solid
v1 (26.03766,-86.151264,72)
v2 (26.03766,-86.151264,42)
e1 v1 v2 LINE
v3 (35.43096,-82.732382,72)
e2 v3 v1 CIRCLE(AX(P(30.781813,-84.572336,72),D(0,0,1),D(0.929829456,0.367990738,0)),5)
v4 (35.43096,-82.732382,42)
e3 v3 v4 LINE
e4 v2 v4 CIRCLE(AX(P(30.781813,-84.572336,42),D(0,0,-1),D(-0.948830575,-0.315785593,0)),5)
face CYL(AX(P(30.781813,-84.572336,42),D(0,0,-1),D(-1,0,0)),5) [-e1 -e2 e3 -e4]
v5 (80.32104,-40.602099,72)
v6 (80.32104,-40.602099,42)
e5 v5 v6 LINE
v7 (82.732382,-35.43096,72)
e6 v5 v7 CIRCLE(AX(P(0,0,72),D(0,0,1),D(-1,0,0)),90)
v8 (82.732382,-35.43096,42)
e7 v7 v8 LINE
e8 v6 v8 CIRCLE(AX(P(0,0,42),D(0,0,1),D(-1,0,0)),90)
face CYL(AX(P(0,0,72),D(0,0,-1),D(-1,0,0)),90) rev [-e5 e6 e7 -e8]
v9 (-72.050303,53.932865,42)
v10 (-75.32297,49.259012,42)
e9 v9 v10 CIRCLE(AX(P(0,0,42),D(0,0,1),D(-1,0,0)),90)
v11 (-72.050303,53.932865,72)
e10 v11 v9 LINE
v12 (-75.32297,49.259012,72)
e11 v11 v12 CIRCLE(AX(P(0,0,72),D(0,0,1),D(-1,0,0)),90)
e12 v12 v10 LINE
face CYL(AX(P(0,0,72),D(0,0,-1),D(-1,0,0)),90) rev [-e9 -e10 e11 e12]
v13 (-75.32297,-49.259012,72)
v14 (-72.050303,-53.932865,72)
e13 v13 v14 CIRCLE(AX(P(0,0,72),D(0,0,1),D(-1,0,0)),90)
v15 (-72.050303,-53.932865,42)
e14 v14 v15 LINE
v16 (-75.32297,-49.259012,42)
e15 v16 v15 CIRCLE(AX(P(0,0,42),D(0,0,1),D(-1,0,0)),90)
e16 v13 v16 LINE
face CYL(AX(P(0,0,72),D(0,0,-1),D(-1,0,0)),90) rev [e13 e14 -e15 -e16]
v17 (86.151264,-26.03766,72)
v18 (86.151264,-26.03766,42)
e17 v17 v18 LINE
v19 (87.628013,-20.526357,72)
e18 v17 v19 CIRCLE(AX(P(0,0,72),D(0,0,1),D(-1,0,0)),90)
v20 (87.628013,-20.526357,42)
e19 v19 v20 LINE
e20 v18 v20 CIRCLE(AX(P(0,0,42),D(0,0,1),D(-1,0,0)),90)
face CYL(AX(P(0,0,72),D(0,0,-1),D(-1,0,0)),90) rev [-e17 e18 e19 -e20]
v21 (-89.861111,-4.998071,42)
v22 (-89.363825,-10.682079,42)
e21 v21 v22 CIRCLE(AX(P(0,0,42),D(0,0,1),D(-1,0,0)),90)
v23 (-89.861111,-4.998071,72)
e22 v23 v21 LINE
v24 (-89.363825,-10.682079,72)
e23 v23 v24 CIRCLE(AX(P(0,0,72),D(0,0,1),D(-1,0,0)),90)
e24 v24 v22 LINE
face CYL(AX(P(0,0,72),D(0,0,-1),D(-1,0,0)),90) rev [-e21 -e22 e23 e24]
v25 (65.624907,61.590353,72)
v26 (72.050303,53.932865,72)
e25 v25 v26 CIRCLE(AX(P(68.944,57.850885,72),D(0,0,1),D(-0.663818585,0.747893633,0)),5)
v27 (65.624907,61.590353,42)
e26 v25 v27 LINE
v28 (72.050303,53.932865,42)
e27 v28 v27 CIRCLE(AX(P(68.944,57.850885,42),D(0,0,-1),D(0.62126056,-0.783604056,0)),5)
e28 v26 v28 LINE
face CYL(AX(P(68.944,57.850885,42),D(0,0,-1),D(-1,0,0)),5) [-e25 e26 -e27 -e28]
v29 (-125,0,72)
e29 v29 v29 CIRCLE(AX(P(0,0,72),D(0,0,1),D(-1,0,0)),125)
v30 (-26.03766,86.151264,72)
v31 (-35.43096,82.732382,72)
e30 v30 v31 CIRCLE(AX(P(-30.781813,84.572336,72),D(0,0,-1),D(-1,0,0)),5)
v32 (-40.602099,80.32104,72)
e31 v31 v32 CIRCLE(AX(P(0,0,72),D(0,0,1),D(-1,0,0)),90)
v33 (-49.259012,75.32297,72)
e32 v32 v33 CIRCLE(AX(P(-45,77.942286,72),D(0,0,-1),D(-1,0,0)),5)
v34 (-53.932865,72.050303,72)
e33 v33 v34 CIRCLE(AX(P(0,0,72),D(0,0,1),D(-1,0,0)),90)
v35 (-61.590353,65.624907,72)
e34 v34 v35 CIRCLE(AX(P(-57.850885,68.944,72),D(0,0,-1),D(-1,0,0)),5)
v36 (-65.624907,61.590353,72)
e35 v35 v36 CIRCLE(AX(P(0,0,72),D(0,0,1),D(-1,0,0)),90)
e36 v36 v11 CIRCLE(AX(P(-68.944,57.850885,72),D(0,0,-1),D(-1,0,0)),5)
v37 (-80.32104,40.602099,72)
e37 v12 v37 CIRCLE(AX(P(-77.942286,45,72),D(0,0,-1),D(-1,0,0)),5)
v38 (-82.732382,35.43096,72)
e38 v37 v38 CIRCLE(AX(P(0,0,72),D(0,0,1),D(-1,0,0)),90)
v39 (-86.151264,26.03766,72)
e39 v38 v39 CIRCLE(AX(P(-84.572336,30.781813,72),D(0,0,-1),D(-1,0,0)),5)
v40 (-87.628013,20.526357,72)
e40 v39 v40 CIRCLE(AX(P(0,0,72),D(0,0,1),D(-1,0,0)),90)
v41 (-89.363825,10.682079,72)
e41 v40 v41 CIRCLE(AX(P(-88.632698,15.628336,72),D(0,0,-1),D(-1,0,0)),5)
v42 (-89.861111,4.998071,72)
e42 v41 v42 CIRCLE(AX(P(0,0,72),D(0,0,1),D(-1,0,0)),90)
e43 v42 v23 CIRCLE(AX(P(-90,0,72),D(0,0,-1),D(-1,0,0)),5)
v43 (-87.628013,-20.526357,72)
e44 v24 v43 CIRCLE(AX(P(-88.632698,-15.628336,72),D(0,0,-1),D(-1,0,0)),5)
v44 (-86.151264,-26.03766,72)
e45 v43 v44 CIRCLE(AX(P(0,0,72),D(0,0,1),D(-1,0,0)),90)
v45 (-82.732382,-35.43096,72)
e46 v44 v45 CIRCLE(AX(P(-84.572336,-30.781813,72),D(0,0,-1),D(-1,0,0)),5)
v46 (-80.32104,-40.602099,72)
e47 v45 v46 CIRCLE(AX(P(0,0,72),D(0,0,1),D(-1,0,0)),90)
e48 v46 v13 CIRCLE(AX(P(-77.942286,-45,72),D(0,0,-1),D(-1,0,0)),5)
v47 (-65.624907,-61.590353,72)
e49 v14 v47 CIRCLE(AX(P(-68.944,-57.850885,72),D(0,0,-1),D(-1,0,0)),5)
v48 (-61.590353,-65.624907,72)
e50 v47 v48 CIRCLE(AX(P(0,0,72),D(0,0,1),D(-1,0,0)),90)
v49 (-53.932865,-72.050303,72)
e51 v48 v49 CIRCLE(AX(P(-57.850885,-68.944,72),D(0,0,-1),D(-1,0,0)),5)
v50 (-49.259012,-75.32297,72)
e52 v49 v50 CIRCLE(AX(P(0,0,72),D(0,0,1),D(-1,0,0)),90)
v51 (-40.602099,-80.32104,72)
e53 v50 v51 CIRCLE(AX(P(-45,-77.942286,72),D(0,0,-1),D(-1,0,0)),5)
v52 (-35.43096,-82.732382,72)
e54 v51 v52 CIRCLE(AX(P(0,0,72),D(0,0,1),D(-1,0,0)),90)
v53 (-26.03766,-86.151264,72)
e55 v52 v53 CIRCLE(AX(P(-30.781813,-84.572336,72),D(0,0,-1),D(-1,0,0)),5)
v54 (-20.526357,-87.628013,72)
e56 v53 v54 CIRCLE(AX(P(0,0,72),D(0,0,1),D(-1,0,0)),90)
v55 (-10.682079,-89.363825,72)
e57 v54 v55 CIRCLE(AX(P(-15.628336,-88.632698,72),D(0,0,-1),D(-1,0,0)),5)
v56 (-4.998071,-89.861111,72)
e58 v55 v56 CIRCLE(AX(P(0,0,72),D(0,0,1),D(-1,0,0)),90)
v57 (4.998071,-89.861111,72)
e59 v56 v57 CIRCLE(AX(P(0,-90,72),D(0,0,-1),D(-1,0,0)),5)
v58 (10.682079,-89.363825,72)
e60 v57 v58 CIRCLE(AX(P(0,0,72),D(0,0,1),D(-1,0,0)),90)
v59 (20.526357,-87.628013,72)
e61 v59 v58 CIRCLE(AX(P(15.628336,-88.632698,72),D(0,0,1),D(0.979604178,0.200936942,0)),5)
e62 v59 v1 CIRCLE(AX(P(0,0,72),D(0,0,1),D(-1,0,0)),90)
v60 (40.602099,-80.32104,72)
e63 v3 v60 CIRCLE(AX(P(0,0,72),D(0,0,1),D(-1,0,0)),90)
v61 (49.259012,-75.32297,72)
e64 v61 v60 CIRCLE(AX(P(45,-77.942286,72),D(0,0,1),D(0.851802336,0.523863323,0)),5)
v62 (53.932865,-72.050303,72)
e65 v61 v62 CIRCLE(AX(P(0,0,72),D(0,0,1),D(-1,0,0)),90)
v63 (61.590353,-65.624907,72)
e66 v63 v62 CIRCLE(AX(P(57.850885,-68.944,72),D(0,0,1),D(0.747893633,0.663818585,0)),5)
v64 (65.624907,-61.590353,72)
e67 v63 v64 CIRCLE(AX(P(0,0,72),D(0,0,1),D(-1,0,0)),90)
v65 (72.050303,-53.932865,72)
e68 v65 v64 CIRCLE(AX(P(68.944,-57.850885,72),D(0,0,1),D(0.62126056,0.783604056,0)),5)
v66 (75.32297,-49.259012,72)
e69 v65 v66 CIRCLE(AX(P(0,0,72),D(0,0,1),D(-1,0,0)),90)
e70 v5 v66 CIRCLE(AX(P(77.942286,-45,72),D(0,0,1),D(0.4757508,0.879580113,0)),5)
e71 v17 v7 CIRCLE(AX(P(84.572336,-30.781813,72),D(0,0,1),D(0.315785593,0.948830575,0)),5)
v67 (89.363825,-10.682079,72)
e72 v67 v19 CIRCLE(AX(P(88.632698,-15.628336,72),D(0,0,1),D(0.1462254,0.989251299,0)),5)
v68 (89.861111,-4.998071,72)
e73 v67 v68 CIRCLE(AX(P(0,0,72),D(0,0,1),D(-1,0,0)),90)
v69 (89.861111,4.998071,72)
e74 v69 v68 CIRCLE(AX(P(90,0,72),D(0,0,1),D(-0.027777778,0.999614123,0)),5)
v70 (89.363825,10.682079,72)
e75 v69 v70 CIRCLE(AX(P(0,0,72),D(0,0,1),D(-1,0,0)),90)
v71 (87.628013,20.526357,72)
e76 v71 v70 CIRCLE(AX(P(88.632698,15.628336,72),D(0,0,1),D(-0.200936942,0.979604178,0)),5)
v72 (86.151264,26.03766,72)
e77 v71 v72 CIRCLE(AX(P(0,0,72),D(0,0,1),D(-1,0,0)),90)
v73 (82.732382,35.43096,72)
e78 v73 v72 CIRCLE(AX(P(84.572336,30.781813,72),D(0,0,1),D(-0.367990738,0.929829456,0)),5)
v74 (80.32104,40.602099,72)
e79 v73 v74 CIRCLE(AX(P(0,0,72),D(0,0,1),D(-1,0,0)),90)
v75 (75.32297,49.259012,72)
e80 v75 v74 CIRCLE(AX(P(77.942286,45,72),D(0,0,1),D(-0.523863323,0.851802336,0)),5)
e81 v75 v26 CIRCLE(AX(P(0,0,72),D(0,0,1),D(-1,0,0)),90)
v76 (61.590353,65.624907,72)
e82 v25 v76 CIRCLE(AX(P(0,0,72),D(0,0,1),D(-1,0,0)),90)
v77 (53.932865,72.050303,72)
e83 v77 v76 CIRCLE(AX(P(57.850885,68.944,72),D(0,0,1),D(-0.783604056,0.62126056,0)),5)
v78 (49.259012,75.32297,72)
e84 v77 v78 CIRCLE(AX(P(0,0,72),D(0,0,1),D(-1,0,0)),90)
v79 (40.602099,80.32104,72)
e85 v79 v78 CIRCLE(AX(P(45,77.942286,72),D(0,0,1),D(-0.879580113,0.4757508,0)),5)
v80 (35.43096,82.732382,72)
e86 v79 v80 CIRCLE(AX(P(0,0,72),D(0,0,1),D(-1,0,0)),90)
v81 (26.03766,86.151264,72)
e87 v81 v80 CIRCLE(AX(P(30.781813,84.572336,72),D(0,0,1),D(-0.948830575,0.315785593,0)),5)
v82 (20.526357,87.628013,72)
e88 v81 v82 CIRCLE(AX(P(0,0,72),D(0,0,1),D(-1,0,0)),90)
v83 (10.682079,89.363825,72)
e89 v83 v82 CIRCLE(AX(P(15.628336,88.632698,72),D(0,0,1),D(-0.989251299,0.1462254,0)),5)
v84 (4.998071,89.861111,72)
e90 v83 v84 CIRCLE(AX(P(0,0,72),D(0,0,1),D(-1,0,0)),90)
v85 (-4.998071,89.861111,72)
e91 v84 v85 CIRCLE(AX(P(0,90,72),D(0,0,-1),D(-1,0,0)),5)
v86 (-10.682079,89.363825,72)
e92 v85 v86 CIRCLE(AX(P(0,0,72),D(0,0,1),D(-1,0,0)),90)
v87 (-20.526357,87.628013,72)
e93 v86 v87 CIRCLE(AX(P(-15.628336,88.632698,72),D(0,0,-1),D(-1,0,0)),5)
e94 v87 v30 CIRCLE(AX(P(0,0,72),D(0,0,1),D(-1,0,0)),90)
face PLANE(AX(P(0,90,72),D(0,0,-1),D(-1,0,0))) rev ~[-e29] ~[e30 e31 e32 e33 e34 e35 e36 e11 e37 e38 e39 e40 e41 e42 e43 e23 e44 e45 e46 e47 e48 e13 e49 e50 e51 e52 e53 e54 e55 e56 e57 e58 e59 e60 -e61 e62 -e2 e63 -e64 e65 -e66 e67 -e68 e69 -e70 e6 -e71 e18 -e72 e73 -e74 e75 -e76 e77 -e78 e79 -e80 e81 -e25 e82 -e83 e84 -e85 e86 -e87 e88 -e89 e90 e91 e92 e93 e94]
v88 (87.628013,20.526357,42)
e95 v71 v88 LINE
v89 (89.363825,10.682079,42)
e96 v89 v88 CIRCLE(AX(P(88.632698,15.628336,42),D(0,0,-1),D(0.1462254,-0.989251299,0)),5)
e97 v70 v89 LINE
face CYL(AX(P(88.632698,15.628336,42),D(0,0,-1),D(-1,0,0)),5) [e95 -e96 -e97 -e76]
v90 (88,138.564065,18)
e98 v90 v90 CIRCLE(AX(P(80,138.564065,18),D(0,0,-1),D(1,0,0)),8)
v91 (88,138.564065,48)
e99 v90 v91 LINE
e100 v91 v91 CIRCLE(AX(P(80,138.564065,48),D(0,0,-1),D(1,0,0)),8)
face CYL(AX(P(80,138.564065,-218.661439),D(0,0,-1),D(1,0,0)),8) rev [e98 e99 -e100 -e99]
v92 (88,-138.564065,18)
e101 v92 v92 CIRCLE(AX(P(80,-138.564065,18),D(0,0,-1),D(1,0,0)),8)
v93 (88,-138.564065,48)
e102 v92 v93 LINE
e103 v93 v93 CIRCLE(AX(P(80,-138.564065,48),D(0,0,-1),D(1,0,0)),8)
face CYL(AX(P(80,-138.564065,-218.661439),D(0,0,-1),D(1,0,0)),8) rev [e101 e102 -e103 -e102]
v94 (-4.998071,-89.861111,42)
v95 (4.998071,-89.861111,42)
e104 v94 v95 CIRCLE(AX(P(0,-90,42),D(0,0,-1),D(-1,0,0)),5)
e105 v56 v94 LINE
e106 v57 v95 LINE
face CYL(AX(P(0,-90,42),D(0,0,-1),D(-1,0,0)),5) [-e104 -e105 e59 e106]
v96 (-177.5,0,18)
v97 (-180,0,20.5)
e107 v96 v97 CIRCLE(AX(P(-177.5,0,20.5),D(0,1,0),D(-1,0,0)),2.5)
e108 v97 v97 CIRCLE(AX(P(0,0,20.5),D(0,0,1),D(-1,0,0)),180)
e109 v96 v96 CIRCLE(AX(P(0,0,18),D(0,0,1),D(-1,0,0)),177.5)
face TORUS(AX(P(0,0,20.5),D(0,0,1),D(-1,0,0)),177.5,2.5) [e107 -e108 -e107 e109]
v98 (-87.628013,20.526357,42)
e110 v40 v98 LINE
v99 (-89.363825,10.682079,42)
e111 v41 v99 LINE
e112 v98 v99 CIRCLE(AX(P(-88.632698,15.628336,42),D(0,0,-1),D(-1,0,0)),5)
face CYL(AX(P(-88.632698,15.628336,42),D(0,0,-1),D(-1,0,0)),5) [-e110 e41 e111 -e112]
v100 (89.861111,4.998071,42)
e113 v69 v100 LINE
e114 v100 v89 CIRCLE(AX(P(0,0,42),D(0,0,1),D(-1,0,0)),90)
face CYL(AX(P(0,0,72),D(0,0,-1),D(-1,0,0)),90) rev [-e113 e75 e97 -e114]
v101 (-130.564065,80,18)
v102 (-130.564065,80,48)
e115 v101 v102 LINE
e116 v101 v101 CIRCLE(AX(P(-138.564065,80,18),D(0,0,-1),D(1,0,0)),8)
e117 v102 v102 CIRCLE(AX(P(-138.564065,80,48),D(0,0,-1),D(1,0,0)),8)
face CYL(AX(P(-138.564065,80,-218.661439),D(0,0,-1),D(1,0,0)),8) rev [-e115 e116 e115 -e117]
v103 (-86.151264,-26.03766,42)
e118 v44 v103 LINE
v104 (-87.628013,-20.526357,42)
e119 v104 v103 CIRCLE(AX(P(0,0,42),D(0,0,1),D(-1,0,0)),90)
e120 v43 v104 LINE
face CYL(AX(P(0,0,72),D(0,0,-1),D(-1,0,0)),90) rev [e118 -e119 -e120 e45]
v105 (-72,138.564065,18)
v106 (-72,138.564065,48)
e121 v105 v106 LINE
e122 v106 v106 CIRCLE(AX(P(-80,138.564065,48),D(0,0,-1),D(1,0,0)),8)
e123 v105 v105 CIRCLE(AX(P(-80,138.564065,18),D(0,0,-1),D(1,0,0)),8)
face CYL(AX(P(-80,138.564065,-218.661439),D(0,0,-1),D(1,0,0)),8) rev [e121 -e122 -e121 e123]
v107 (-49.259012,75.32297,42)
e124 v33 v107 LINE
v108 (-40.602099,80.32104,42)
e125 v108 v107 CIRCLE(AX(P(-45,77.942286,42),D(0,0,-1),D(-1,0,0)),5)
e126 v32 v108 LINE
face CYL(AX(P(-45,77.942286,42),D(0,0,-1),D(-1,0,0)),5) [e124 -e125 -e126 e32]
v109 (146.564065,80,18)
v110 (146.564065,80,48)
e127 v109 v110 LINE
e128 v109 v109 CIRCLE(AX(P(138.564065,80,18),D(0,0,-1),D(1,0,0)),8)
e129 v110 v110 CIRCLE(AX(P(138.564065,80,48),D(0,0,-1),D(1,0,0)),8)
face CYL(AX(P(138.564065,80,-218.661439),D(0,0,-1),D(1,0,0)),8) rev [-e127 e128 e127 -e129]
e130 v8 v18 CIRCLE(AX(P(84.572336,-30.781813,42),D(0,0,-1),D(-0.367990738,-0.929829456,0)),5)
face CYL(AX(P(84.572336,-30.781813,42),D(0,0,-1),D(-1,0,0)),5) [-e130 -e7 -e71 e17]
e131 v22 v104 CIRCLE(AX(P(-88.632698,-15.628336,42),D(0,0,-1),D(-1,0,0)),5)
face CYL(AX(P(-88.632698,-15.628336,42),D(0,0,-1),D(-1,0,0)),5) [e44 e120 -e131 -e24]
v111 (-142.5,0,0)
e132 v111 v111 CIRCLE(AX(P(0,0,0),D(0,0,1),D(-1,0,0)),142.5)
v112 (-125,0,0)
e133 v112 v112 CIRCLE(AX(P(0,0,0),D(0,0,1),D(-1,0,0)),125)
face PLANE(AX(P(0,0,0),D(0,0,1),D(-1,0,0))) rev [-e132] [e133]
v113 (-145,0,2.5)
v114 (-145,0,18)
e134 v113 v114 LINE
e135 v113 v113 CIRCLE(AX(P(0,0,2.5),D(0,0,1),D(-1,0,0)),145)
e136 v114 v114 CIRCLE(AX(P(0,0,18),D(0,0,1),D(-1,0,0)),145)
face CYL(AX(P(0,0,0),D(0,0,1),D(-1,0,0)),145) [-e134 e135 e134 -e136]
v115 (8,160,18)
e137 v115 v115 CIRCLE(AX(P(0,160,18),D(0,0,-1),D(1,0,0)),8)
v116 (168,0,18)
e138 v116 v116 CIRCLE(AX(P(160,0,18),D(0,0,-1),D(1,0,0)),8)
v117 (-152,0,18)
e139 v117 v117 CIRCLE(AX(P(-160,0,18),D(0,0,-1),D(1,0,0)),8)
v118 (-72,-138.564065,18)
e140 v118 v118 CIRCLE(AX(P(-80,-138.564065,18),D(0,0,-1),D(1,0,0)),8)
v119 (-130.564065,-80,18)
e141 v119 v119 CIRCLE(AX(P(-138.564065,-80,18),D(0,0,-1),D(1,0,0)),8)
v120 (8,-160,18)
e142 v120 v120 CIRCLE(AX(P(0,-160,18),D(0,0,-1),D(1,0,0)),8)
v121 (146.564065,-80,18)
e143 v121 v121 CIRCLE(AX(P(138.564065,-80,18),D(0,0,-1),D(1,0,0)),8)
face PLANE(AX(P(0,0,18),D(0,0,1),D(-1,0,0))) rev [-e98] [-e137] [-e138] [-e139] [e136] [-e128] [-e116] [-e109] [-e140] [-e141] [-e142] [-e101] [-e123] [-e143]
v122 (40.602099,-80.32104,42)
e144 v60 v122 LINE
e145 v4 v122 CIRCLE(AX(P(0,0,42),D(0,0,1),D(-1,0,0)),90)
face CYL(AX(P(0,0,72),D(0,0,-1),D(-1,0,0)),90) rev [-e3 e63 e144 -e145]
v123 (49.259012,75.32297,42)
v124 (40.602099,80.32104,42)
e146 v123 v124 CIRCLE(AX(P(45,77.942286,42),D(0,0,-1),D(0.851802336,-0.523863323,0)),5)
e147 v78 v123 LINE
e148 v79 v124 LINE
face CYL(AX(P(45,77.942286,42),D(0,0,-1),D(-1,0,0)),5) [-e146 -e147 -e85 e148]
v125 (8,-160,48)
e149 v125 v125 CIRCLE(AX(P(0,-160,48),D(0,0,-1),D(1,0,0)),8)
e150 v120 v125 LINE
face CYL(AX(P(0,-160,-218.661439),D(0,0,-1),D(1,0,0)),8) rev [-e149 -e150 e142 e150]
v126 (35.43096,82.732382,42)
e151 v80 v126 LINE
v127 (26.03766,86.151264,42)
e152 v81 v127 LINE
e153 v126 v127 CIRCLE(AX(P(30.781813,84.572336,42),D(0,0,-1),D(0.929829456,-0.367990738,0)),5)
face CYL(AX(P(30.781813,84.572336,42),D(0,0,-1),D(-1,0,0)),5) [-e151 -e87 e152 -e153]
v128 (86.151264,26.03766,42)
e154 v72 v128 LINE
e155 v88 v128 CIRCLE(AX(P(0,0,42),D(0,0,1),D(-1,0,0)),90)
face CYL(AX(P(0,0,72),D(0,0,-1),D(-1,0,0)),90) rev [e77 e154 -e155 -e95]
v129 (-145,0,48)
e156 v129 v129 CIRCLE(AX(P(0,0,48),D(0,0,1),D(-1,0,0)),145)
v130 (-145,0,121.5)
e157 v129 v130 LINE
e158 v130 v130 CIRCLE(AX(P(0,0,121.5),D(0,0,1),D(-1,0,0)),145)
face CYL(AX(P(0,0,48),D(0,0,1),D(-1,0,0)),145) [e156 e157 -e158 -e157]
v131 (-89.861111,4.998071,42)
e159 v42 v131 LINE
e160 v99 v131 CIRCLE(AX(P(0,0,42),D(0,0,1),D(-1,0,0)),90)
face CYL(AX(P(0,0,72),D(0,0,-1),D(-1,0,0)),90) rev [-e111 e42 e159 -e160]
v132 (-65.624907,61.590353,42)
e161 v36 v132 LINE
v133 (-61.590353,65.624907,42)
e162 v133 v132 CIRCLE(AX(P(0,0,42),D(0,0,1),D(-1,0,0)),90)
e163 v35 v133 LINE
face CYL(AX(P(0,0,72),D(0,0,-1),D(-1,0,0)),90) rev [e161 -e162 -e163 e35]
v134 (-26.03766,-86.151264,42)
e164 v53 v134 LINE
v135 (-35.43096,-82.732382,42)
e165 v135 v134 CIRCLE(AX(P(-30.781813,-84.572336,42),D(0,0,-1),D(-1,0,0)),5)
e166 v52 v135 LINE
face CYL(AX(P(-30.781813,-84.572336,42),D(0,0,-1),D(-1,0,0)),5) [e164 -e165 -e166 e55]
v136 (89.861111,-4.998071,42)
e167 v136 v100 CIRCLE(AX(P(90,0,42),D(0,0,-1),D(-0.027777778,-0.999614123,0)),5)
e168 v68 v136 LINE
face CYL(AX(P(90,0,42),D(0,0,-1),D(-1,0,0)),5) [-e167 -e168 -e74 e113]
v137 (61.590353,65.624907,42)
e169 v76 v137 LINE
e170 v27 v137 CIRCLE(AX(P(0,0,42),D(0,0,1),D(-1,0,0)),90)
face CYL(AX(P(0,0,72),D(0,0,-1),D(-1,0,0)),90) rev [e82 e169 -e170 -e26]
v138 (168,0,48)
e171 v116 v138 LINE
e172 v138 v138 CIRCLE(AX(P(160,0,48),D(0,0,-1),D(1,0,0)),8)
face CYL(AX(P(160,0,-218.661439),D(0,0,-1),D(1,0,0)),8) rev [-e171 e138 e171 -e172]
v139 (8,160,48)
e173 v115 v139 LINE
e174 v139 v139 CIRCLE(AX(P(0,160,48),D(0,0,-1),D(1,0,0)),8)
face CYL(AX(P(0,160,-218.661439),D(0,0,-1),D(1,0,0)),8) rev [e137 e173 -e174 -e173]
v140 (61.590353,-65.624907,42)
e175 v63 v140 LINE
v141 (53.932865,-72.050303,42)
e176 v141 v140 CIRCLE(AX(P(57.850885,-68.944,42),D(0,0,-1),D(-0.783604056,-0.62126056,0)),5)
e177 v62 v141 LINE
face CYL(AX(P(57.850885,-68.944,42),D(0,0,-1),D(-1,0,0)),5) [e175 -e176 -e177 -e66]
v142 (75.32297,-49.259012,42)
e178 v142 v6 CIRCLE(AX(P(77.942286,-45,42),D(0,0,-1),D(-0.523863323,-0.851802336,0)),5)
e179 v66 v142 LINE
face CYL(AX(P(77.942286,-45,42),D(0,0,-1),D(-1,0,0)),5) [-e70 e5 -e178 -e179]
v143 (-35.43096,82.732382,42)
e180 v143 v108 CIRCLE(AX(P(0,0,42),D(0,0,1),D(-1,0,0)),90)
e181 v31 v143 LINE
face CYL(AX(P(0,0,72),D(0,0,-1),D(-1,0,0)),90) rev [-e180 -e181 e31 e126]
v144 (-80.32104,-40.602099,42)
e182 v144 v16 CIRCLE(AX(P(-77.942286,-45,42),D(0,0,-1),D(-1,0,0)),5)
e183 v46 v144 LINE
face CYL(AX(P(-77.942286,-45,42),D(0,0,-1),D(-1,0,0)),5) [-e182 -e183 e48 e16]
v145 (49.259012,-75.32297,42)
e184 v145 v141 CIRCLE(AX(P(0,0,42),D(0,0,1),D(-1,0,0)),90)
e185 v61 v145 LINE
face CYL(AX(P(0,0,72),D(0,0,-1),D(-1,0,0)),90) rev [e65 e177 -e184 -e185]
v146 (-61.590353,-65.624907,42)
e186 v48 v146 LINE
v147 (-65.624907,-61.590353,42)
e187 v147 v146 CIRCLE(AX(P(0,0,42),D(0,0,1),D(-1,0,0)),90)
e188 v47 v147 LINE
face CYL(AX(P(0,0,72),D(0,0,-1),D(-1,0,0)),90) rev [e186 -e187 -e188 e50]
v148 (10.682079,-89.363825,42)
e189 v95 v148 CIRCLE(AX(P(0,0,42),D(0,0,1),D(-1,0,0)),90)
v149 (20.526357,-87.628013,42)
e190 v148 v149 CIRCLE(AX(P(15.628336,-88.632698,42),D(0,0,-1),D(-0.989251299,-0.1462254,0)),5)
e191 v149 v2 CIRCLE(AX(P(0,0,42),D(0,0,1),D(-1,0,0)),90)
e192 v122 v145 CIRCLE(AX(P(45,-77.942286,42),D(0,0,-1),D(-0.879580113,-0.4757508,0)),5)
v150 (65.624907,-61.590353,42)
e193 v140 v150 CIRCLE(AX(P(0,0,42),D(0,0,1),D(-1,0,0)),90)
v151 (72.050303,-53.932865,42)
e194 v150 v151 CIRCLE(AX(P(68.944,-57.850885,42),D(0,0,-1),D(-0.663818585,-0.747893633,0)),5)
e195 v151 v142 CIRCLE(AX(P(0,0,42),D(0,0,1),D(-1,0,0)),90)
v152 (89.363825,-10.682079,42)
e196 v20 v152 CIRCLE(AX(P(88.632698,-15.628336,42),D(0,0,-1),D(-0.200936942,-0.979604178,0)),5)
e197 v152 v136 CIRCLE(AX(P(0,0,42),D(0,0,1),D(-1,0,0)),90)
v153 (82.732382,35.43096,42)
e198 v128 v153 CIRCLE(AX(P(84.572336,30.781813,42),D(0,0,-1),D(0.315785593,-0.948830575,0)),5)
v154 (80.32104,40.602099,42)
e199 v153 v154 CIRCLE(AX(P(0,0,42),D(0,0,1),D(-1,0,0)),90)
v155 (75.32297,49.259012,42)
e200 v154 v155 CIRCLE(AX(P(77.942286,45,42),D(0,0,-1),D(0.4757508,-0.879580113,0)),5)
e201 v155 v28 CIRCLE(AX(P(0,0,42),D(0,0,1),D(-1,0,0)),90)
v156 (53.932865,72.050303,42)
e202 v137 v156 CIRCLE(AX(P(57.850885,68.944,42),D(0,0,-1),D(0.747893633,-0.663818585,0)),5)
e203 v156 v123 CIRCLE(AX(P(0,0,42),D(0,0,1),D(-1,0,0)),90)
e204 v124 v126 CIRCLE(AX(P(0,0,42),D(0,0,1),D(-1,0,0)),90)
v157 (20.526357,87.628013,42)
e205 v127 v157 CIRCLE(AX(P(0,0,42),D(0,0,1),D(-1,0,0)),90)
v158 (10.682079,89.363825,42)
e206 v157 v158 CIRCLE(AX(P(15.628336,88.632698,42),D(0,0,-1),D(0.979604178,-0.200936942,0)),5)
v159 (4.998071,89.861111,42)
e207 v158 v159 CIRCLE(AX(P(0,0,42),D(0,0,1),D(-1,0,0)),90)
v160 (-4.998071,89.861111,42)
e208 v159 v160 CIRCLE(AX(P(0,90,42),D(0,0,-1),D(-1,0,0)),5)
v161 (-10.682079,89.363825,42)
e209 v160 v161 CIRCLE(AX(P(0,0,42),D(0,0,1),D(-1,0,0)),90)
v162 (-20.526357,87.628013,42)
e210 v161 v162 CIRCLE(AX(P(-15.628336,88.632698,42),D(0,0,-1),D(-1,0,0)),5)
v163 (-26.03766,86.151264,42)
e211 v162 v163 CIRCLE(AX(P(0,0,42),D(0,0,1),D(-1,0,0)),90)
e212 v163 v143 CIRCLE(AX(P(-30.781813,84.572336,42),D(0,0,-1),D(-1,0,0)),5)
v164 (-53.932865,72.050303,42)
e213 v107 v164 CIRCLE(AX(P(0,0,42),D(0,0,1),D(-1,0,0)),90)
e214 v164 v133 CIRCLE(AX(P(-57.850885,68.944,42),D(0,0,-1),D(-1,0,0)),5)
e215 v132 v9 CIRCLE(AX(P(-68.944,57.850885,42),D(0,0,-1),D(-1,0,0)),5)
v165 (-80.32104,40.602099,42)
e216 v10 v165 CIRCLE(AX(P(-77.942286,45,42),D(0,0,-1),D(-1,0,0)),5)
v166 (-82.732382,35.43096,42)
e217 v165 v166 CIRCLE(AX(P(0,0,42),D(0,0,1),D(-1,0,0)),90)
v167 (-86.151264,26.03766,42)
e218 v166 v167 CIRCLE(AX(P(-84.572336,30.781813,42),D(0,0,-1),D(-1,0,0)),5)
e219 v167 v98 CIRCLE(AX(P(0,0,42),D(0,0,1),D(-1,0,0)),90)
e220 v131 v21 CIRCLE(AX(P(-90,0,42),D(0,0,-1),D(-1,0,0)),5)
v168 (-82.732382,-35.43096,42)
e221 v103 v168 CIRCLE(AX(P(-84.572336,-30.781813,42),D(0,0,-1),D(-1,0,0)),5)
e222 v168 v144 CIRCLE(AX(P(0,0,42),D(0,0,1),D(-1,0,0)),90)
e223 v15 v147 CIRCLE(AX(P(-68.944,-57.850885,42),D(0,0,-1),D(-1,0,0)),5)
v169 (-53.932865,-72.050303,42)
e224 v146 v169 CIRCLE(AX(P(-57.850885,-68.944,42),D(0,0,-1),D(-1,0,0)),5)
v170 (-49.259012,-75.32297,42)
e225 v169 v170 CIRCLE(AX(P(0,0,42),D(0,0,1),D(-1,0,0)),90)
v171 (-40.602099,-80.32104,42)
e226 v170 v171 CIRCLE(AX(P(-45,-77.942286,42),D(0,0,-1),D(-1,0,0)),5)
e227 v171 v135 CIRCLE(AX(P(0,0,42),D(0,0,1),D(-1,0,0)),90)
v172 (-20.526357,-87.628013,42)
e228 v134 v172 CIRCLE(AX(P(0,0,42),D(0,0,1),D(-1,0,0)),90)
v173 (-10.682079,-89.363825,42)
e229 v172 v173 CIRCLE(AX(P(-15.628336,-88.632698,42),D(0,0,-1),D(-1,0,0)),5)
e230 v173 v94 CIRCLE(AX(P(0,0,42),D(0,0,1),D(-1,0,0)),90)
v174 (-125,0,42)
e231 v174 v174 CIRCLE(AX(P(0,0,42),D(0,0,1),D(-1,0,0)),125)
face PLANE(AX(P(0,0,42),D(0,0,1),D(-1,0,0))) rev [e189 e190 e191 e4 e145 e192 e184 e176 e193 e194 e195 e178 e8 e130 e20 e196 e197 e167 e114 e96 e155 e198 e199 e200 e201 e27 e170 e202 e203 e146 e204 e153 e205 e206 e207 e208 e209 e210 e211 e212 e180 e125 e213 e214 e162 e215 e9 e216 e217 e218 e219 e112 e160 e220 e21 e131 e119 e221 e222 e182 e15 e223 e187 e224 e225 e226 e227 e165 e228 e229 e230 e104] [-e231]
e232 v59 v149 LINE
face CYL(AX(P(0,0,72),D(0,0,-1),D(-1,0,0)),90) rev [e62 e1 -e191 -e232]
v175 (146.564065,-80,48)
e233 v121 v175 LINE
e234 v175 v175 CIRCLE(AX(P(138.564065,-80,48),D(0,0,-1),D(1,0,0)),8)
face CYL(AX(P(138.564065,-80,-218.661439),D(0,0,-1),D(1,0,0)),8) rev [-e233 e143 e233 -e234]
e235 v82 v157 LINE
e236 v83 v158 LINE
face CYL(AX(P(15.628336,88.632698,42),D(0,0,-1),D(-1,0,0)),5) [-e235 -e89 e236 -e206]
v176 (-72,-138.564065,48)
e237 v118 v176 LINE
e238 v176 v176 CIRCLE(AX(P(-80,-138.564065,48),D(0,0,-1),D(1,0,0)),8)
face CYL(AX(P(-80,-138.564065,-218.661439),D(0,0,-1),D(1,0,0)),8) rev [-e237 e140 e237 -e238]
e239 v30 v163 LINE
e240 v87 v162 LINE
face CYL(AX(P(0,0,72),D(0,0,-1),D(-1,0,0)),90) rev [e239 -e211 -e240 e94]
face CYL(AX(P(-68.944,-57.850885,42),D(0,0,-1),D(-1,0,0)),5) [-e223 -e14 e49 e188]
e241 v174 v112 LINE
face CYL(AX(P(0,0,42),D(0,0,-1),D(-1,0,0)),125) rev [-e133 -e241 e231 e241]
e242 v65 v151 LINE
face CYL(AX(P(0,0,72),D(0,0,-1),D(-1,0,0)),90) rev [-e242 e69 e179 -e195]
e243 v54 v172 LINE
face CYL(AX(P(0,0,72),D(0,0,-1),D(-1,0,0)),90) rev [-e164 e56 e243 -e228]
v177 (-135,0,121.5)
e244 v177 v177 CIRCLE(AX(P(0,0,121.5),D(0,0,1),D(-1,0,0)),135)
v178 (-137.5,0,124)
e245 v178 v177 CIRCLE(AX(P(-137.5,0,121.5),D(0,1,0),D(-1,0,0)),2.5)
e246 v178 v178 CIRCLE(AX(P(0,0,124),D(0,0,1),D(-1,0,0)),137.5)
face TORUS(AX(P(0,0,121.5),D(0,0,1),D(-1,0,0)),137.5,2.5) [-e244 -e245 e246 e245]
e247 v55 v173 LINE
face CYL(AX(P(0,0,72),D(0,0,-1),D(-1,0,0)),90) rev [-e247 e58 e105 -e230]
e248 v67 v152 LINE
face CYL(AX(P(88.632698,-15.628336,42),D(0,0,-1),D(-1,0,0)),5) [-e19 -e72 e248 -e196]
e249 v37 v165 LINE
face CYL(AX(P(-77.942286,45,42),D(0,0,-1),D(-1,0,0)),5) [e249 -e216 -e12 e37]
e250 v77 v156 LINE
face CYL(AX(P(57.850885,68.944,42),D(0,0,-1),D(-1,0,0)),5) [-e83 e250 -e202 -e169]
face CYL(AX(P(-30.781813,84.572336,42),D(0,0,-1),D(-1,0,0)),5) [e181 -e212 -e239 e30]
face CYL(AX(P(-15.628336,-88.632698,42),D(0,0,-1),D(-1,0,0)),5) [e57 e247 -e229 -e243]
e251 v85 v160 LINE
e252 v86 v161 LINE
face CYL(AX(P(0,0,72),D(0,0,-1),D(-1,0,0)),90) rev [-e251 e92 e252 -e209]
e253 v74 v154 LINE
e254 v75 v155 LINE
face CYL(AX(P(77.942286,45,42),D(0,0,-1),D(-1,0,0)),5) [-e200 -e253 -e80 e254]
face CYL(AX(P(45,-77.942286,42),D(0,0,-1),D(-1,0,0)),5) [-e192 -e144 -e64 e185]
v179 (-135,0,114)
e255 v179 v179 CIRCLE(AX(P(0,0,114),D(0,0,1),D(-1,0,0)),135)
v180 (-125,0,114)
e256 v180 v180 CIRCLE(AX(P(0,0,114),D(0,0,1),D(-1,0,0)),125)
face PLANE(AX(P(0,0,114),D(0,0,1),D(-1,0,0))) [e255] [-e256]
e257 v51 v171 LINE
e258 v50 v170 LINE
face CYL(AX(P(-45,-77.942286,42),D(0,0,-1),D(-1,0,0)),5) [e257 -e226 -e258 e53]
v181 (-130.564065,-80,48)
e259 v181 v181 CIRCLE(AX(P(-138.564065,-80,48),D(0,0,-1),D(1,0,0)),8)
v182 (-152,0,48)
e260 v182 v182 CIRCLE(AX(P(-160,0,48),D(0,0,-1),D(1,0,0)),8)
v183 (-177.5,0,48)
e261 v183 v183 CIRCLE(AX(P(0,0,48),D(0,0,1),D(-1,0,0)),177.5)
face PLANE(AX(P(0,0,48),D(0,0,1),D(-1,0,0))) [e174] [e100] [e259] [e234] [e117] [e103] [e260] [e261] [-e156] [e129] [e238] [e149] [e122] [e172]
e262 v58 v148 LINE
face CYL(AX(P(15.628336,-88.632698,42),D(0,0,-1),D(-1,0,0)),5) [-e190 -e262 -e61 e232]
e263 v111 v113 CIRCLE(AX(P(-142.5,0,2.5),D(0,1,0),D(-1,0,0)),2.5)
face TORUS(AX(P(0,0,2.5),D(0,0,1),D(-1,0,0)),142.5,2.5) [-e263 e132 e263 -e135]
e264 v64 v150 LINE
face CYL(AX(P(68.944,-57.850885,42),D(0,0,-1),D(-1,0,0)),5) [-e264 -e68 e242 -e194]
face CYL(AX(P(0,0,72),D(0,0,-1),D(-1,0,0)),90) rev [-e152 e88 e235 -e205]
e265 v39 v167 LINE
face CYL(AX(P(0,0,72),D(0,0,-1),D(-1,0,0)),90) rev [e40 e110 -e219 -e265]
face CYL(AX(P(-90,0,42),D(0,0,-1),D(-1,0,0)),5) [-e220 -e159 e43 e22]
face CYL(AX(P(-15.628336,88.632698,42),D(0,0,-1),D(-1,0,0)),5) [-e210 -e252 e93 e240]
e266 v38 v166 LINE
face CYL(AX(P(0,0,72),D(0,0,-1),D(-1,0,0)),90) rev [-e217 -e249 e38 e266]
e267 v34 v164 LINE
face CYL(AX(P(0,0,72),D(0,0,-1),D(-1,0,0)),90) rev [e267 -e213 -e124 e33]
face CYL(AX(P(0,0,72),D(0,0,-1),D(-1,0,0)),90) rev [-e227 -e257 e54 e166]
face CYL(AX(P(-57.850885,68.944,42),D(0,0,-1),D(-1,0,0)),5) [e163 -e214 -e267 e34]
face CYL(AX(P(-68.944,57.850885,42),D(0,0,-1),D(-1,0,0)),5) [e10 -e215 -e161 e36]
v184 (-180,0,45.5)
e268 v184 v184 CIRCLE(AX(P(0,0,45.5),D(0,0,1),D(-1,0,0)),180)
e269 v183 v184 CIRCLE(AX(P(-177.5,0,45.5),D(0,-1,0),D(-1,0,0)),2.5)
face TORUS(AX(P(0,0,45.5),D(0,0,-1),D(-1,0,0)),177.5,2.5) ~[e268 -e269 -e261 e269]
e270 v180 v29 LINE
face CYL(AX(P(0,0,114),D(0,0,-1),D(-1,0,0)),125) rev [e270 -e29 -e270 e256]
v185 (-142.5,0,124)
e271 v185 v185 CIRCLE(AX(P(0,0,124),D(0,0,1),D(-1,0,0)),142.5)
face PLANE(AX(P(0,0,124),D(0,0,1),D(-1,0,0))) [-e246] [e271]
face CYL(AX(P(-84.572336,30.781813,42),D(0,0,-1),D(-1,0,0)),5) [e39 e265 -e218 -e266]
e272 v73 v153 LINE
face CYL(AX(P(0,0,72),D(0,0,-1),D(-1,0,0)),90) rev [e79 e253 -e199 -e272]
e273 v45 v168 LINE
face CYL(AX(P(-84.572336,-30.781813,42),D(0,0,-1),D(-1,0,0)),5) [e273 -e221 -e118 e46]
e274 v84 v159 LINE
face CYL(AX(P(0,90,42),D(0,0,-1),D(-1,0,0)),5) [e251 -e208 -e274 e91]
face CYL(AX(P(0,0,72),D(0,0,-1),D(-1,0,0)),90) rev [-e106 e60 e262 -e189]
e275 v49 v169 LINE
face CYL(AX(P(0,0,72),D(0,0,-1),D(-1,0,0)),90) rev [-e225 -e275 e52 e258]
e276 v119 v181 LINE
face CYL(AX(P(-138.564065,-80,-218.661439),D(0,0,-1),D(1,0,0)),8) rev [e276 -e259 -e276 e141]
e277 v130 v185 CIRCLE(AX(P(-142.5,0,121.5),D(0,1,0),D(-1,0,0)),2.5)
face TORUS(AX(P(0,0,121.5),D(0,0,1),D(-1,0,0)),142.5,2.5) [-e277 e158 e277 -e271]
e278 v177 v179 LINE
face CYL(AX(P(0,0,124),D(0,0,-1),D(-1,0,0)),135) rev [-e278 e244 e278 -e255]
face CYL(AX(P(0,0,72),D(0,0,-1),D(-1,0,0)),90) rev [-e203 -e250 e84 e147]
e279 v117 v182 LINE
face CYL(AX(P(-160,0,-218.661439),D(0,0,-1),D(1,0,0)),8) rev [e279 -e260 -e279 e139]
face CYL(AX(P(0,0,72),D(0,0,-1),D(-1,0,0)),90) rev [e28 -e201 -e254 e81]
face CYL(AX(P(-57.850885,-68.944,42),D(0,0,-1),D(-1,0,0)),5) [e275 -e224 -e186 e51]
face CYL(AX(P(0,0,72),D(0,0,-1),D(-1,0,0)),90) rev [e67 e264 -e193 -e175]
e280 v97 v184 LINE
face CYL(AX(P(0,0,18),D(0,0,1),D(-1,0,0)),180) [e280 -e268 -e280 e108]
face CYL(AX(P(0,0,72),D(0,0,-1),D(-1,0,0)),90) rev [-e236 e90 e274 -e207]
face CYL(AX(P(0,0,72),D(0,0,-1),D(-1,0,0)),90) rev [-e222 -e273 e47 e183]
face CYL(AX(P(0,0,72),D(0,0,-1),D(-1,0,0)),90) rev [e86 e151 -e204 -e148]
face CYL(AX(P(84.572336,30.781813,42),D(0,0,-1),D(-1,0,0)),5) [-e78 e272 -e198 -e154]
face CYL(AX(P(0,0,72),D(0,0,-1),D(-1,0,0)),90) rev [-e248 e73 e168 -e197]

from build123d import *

# Parameters (mm, degrees)
ENL_V_MAT_EXTRU_1_DEPTH      = 266.661438677
ENL_V_MAT_EXTRU_1_DEPTH_BACK = 266.661438677
ESQUISSE2_R                  = 8
ESQUISSE5_R                  = 5
BOSS_EXTRU_1_DEPTH           = 30
CONG_1_R                     = 2.5


with BuildPart() as part:
    # Esquisse1 → Révolution1 (revolve)
    with BuildSketch(Plane(origin=(0, 0, 0), x_dir=(0, 0, -1), z_dir=(1, 0, 0)), mode=Mode.PRIVATE) as r_volution1_sk:
        Polygon((0, 125), (0, 145), (-18, 145), (-18, 180), (-48, 180), (-48, 145), (-124, 145), (-124, 135), (-114, 135), (-114, 125), (-72, 125), (-72, 90), (-42, 90), (-42, 125), align=None)
    revolve(r_volution1_sk.sketch.rotate(Axis((0, 0, 0), (0, 0, 1)), 90), axis=Axis((0, 0, 0), (0, 0, 1)))

    # Esquisse2 → Enlèv. mat.-Extru.1 (cut, two sides: drawn at the far end of the back side and taken through both)
    with BuildSketch(Plane.XY.offset(48).offset(-ENL_V_MAT_EXTRU_1_DEPTH_BACK)):
        with Locations((0, 160)):
            Circle(ESQUISSE2_R)
        with Locations((80, 138.564064606)):
            Circle(ESQUISSE2_R)
        with Locations((138.564064606, 80)):
            Circle(ESQUISSE2_R)
        with Locations((160, 0)):
            Circle(ESQUISSE2_R)
        with Locations((138.564064606, -80)):
            Circle(ESQUISSE2_R)
        with Locations((80, -138.564064606)):
            Circle(ESQUISSE2_R)
        with Locations((0, -160)):
            Circle(ESQUISSE2_R)
        with Locations((-80, -138.564064606)):
            Circle(ESQUISSE2_R)
        with Locations((-138.564064605, -80)):
            Circle(ESQUISSE2_R)
        with Locations((-160, 0)):
            Circle(ESQUISSE2_R)
        with Locations((-138.564064606, 80)):
            Circle(ESQUISSE2_R)
        with Locations((-80, 138.564064606)):
            Circle(ESQUISSE2_R)
    extrude(amount=ENL_V_MAT_EXTRU_1_DEPTH + ENL_V_MAT_EXTRU_1_DEPTH_BACK, mode=Mode.SUBTRACT)

    # Esquisse5 → Boss.-Extru.1 (add)
    with BuildSketch(Plane(origin=(0, 0, 42), x_dir=(-1, 0, 0), z_dir=(0, 0, -1))):
        with Locations((0, 90)):
            Circle(ESQUISSE5_R)
        with Locations((15.62833599, 88.632697771)):
            Circle(ESQUISSE5_R)
        with Locations((30.781812899, 84.572335871)):
            Circle(ESQUISSE5_R)
        with Locations((45, 77.942286341)):
            Circle(ESQUISSE5_R)
        with Locations((57.850884872, 68.943999881)):
            Circle(ESQUISSE5_R)
        with Locations((68.943999881, 57.850884872)):
            Circle(ESQUISSE5_R)
        with Locations((77.942286341, 45)):
            Circle(ESQUISSE5_R)
        with Locations((84.572335871, 30.781812899)):
            Circle(ESQUISSE5_R)
        with Locations((88.632697771, 15.62833599)):
            Circle(ESQUISSE5_R)
        with Locations((90, 0)):
            Circle(ESQUISSE5_R)
        with Locations((88.632697771, -15.62833599)):
            Circle(ESQUISSE5_R)
        with Locations((84.572335871, -30.781812899)):
            Circle(ESQUISSE5_R)
        with Locations((77.942286341, -45)):
            Circle(ESQUISSE5_R)
        with Locations((68.943999881, -57.850884872)):
            Circle(ESQUISSE5_R)
        with Locations((57.850884872, -68.943999881)):
            Circle(ESQUISSE5_R)
        with Locations((45, -77.942286341)):
            Circle(ESQUISSE5_R)
        with Locations((30.781812899, -84.572335871)):
            Circle(ESQUISSE5_R)
        with Locations((15.62833599, -88.632697771)):
            Circle(ESQUISSE5_R)
        with Locations((0, -90)):
            Circle(ESQUISSE5_R)
        with Locations((-15.62833599, -88.632697771)):
            Circle(ESQUISSE5_R)
        with Locations((-30.781812899, -84.572335871)):
            Circle(ESQUISSE5_R)
        with Locations((-45, -77.942286341)):
            Circle(ESQUISSE5_R)
        with Locations((-57.850884872, -68.943999881)):
            Circle(ESQUISSE5_R)
        with Locations((-68.943999881, -57.850884872)):
            Circle(ESQUISSE5_R)
        with Locations((-77.942286341, -45)):
            Circle(ESQUISSE5_R)
        with Locations((-84.572335871, -30.781812899)):
            Circle(ESQUISSE5_R)
        with Locations((-88.632697771, -15.62833599)):
            Circle(ESQUISSE5_R)
        with Locations((-90, 0)):
            Circle(ESQUISSE5_R)
        with Locations((-88.632697771, 15.62833599)):
            Circle(ESQUISSE5_R)
        with Locations((-84.572335871, 30.781812899)):
            Circle(ESQUISSE5_R)
        with Locations((-77.942286341, 45)):
            Circle(ESQUISSE5_R)
        with Locations((-68.943999881, 57.850884872)):
            Circle(ESQUISSE5_R)
        with Locations((-57.850884872, 68.943999881)):
            Circle(ESQUISSE5_R)
        with Locations((-45, 77.942286341)):
            Circle(ESQUISSE5_R)
        with Locations((-30.781812899, 84.572335871)):
            Circle(ESQUISSE5_R)
        with Locations((-15.62833599, 88.632697771)):
            Circle(ESQUISSE5_R)
    extrude(amount=-BOSS_EXTRU_1_DEPTH)

    # Congé1
    cong_1_edges = [part.edges().sort_by_distance(p)[0] for p in [
        (135, 0, 124),
        (145, 0, 124),
        (180, 0, 48),
        (180, 0, 18),
        (145, 0, 0),
    ]]
    fillet(cong_1_edges, radius=CONG_1_R)


solid = part.part
